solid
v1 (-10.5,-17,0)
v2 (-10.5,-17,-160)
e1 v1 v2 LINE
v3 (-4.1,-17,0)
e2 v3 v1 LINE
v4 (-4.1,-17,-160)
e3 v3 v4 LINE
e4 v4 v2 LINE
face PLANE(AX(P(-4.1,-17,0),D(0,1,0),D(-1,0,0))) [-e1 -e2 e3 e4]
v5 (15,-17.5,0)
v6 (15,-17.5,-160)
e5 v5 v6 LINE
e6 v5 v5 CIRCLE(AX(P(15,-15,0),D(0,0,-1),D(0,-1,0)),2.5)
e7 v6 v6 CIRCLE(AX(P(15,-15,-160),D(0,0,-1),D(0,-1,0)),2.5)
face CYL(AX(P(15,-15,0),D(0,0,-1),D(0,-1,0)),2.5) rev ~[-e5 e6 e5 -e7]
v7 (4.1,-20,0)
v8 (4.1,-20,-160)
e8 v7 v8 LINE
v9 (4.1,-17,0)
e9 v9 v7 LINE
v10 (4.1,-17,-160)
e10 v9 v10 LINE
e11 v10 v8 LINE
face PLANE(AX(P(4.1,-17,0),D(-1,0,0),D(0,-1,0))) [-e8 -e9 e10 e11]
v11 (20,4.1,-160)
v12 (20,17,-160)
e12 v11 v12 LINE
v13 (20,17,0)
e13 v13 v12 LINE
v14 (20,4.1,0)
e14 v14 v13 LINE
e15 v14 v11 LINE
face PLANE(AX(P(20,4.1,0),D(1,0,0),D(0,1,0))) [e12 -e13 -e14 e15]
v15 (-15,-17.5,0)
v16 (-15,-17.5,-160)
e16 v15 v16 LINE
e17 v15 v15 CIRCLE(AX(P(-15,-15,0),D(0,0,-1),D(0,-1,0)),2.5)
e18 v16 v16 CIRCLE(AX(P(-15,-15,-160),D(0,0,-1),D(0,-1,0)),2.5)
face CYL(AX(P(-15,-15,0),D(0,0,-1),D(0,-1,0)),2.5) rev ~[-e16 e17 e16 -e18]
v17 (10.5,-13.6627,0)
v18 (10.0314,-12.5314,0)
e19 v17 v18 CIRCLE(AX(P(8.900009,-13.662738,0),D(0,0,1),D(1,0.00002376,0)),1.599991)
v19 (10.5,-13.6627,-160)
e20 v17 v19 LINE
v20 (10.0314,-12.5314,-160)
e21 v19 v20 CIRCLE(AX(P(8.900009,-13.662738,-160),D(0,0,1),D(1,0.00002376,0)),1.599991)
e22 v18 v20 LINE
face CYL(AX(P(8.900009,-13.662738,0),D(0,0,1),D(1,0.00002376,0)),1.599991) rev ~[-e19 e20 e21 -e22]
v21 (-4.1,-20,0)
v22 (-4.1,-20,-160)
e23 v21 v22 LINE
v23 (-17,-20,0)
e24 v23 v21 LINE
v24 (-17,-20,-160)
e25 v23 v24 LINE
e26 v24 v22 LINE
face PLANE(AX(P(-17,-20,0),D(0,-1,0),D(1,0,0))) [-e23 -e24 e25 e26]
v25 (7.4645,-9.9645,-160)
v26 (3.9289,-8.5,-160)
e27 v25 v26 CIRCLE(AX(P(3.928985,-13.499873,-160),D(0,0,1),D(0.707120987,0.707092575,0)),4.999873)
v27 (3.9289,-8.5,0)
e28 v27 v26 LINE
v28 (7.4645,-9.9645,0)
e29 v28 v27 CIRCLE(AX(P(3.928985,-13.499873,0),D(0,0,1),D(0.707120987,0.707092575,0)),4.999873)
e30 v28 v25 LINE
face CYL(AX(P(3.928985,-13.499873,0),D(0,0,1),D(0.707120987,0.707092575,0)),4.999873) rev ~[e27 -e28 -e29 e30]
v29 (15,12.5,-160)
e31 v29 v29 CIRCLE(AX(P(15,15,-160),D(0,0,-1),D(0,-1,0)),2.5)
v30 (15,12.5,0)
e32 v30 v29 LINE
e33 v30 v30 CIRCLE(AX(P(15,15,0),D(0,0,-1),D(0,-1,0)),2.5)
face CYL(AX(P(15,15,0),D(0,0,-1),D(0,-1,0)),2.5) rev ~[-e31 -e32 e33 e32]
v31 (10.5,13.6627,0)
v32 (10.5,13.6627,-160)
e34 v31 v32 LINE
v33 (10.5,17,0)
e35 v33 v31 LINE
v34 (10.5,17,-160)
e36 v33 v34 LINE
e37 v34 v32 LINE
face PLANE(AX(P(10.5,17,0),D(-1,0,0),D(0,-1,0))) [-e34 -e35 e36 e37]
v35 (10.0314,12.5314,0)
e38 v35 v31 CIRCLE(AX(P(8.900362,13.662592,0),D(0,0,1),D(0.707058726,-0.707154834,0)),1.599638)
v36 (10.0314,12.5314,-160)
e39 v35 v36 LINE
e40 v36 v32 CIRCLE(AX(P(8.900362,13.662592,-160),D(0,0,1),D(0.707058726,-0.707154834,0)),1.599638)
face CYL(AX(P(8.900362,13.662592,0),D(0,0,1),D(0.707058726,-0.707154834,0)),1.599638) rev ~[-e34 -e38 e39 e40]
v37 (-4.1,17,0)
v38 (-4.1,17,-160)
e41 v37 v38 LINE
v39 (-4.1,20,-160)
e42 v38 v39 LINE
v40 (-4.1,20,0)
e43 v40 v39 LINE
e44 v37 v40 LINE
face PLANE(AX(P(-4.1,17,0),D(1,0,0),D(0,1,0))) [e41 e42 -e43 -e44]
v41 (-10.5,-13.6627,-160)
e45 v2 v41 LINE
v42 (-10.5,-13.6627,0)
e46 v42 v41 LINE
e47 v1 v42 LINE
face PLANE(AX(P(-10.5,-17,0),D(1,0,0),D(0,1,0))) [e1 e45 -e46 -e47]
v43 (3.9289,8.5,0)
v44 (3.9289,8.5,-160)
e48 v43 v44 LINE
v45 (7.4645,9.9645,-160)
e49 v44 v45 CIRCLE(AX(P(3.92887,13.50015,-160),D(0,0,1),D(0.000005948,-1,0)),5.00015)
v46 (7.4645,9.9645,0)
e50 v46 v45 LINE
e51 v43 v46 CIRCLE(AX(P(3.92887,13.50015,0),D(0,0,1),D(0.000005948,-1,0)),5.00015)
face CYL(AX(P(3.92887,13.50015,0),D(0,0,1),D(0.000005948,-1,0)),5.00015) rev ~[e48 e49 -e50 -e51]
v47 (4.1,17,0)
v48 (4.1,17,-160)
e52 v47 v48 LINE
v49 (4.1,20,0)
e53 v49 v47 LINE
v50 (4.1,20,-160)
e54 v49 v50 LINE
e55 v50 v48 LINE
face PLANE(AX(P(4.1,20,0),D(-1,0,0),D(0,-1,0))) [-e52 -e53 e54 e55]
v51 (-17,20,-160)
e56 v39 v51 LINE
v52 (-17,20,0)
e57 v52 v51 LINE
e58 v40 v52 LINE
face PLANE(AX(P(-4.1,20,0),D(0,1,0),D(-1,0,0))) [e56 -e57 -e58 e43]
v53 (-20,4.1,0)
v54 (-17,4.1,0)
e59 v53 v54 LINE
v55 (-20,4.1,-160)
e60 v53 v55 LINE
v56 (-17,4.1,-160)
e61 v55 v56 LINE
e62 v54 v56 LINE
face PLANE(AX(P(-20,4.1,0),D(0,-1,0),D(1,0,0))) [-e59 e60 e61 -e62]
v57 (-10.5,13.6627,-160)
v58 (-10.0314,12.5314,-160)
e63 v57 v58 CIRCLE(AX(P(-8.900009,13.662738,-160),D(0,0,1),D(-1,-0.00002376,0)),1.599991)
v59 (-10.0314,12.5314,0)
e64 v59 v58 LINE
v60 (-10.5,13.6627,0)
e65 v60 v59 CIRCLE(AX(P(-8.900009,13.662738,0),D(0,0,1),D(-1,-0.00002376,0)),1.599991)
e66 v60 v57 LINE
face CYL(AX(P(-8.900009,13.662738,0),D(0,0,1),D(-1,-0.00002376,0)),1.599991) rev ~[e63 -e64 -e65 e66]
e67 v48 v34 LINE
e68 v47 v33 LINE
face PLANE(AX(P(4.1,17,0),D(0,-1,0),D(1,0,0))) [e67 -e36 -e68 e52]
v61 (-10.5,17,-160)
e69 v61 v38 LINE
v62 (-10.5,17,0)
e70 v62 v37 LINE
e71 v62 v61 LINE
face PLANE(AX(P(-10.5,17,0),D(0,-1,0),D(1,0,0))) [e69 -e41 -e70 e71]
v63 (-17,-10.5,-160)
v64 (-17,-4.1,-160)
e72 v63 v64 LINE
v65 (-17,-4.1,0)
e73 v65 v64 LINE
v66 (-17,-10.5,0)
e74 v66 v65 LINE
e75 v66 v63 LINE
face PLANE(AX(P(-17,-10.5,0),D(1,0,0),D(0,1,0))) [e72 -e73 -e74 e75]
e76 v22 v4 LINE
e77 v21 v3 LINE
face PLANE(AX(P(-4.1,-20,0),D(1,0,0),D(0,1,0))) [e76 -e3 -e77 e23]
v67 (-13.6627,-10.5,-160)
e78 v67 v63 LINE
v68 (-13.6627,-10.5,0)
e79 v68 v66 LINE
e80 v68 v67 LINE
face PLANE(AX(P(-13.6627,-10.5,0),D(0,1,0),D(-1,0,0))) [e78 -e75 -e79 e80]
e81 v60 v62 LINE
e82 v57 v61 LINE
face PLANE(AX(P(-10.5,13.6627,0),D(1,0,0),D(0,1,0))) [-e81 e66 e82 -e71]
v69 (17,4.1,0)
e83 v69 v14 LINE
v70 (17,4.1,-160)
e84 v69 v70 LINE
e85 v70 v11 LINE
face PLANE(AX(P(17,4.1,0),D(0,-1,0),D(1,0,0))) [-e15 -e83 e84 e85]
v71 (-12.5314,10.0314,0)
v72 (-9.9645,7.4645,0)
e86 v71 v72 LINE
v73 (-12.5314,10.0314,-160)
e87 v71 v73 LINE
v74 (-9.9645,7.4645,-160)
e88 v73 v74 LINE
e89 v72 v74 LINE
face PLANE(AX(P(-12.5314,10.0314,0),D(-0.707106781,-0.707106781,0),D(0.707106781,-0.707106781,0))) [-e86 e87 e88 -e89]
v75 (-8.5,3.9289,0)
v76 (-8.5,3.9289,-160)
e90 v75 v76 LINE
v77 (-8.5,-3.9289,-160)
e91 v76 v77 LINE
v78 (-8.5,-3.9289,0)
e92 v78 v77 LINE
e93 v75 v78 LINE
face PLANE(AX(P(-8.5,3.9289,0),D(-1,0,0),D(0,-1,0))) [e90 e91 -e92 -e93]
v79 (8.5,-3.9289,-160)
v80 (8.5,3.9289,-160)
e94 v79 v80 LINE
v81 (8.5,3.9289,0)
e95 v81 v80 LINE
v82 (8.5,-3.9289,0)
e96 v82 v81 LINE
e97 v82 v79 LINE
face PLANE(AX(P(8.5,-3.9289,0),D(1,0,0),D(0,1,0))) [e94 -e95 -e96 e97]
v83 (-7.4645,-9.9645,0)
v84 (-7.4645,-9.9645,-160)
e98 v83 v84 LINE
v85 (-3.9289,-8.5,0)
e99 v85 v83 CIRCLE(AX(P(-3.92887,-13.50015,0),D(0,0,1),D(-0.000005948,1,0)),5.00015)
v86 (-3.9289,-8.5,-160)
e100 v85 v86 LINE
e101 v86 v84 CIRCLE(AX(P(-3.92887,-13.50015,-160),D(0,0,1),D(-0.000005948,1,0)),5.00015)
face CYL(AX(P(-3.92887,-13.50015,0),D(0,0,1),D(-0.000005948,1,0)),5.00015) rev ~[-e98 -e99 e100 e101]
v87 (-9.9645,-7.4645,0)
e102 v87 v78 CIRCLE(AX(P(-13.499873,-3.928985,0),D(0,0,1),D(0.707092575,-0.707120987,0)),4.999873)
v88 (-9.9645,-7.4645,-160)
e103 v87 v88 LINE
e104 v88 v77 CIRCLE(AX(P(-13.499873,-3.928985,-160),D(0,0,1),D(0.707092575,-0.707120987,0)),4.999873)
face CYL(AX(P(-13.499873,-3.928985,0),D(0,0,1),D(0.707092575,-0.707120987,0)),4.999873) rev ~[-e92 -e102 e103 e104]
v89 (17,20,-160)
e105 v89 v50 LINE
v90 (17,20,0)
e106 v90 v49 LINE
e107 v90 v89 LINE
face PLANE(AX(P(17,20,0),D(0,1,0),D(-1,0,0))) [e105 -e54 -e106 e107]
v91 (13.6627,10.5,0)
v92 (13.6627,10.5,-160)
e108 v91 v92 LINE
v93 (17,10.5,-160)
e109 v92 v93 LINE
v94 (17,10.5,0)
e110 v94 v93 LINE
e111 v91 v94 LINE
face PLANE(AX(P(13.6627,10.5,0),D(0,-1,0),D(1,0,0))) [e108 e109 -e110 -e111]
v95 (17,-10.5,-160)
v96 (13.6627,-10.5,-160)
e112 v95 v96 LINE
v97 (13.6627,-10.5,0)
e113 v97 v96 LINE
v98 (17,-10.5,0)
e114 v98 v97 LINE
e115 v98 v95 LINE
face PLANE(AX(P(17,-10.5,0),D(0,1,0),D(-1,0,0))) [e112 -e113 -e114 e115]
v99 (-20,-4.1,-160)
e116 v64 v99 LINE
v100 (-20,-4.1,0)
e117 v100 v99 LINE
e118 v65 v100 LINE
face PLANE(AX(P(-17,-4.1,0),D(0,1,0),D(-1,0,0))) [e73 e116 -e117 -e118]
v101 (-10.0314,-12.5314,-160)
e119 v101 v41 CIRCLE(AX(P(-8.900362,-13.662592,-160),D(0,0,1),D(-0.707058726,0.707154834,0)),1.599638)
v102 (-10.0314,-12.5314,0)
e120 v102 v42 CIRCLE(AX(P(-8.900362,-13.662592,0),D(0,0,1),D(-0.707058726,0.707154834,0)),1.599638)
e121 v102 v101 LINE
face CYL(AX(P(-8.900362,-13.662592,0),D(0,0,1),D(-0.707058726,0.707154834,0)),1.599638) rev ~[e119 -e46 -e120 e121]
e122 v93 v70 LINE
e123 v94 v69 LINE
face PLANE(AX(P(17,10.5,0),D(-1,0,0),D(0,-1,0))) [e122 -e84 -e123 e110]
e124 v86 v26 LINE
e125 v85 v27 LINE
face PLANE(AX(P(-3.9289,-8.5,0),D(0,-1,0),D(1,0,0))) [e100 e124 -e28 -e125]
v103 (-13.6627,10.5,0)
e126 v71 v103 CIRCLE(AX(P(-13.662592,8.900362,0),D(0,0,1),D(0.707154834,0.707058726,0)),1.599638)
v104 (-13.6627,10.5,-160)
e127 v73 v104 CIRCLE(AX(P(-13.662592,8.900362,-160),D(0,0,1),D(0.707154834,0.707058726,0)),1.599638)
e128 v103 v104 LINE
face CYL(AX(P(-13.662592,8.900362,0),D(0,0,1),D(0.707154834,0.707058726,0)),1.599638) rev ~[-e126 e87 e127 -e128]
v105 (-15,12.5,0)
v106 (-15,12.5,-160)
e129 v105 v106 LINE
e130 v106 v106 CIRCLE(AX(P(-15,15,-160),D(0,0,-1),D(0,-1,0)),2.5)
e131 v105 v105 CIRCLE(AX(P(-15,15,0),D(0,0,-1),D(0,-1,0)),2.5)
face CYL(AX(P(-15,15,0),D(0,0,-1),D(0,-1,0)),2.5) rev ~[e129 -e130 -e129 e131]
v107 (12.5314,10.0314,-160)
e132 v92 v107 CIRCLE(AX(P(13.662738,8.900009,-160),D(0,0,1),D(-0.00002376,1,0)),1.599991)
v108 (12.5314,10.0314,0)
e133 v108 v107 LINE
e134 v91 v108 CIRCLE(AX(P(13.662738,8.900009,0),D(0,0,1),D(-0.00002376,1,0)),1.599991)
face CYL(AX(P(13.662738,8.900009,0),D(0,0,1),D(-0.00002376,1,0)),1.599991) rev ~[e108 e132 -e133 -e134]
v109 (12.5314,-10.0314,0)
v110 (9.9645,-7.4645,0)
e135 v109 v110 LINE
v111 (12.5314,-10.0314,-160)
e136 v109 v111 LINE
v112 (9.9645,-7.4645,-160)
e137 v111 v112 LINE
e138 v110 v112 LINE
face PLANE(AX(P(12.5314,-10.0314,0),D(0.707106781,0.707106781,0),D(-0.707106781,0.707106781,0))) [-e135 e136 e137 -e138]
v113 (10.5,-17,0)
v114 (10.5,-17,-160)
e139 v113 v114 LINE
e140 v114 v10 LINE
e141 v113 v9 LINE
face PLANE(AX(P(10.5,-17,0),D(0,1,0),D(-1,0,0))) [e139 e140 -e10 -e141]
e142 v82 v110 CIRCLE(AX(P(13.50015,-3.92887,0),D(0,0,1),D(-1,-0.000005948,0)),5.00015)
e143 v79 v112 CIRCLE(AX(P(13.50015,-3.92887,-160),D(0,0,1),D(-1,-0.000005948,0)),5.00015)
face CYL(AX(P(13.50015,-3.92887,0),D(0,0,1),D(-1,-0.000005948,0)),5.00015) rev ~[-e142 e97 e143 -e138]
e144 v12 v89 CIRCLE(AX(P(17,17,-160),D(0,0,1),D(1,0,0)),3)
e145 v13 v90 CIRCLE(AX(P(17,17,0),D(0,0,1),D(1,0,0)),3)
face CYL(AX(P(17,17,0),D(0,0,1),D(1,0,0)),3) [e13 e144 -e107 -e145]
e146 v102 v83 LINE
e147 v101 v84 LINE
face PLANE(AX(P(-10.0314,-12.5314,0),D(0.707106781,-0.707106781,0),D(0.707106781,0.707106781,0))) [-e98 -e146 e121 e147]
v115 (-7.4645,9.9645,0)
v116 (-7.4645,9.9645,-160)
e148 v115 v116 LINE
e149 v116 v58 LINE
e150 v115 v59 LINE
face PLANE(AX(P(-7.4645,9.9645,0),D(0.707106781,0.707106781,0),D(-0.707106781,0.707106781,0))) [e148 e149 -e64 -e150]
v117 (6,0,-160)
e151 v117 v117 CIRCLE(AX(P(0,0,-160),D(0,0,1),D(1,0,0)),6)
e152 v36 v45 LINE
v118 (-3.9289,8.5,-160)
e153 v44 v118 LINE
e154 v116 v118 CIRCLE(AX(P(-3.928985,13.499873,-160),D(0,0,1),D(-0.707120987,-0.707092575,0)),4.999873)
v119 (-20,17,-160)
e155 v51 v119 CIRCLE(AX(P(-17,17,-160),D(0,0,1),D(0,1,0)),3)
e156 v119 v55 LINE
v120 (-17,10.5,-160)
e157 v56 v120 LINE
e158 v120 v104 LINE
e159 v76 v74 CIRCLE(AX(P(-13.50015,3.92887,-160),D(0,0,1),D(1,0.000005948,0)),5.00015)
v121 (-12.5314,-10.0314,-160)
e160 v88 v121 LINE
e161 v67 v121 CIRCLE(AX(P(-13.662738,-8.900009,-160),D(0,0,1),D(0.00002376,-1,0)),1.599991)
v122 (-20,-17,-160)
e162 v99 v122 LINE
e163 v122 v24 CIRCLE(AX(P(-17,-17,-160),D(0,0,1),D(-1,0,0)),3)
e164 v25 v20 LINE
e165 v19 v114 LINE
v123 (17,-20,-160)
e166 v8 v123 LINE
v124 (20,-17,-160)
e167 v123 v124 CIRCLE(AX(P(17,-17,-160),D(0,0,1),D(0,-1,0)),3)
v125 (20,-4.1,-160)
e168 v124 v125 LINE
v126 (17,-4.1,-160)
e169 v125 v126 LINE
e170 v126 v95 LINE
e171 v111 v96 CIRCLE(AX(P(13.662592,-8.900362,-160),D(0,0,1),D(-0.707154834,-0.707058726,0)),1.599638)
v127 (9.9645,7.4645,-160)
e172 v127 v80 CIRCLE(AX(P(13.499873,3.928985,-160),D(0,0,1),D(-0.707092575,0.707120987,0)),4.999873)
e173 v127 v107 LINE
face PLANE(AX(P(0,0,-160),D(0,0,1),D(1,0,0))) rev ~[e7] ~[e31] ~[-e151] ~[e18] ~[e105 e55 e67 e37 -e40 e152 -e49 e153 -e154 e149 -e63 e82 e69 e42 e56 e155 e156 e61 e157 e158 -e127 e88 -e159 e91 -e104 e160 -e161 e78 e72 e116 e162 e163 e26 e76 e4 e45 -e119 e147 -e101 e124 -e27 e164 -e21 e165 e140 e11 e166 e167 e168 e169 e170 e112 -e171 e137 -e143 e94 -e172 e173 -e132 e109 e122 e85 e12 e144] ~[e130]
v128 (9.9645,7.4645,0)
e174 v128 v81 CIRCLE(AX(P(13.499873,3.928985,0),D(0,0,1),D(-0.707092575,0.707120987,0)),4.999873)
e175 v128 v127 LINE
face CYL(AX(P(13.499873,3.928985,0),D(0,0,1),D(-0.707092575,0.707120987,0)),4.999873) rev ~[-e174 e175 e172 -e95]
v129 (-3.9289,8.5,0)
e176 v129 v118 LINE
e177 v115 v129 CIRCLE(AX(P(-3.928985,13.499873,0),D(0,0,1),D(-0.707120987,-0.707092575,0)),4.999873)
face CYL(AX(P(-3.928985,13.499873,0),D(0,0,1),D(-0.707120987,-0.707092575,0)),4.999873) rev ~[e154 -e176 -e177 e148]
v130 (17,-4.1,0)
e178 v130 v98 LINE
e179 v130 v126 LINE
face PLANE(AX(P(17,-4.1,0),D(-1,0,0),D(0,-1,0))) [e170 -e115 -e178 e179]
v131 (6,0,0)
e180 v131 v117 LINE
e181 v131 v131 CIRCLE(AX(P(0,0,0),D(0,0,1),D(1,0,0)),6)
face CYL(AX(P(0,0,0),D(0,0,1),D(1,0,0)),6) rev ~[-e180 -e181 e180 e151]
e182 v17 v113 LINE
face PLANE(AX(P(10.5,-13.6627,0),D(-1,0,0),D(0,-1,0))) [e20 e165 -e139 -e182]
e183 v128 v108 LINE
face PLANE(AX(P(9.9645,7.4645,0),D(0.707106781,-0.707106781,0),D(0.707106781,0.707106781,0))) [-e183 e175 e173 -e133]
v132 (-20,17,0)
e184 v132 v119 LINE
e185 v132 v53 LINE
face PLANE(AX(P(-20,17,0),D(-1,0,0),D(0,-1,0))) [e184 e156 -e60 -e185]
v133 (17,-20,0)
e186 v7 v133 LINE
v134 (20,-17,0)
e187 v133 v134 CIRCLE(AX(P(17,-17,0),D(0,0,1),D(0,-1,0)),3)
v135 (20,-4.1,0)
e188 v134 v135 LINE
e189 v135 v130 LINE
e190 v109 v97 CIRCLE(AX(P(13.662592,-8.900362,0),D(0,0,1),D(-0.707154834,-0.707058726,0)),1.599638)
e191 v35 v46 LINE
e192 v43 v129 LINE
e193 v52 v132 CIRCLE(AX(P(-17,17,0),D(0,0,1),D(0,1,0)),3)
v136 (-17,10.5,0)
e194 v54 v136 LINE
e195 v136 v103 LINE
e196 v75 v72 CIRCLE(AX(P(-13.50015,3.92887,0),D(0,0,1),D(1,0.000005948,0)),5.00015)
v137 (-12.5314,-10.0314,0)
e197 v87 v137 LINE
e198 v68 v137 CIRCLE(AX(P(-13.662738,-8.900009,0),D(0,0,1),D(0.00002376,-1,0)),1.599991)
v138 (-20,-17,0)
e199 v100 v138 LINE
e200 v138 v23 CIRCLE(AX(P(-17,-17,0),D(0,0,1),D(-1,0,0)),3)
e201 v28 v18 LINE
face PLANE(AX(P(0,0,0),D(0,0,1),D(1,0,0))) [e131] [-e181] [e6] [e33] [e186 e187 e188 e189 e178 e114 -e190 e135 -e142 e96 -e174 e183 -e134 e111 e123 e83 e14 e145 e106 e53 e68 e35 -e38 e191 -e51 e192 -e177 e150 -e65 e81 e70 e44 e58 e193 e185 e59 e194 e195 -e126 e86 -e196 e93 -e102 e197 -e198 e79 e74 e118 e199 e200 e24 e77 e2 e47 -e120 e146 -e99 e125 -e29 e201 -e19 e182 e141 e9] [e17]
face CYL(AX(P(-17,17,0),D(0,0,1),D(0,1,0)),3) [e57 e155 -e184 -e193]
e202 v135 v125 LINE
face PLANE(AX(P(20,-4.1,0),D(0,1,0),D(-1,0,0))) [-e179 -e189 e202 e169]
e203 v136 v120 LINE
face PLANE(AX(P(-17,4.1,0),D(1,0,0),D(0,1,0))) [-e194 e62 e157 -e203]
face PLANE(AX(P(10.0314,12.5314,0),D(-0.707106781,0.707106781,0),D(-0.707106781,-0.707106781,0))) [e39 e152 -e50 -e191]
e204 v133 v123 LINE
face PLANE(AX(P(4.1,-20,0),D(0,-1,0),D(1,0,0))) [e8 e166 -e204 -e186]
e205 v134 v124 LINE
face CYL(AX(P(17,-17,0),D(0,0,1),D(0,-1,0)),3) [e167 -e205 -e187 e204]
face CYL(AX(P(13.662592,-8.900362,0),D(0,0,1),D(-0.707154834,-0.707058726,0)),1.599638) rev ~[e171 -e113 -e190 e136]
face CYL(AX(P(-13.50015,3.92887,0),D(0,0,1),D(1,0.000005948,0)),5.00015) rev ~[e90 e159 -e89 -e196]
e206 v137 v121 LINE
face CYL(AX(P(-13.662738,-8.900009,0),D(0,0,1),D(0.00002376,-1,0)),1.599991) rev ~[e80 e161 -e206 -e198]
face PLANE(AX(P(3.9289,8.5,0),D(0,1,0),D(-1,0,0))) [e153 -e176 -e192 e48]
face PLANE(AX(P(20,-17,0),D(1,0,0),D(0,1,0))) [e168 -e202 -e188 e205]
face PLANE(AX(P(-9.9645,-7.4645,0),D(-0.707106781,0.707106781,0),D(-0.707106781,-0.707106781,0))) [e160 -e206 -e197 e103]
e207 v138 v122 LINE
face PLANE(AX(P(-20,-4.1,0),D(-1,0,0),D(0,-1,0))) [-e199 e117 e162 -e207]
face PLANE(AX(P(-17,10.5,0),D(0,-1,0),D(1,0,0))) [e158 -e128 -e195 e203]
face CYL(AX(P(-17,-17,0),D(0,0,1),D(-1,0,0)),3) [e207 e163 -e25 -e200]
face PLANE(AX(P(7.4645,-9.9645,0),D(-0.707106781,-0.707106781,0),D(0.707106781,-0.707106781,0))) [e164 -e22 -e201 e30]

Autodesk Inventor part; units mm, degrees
sketch "Skizze_1" plane through (0, 0, 0) normal (0, 0, 1) x (1, 0, 0)
  arc A0 (-20, -17) -> (-17, -20) centre (-17, -17) ccw
  line L0 (-17, -20) -> (-4.1, -20)
  line L1 (-4.1, -20) -> (-4.1, -17)
  line L2 (-4.1, -17) -> (-10.5, -17)
  line L3 (-10.5, -17) -> (-10.5, -13.6627)
  arc A1 (-10.0314, -12.5314) -> (-10.5, -13.6627) centre (-8.9002, -13.6627) ccw
  line L4 (-10.0314, -12.5314) -> (-7.4645, -9.9645)
  arc A2 (-3.9289, -8.5) -> (-7.4645, -9.9645) centre (-3.9289, -13.5) ccw
  line L5 (-3.9289, -8.5) -> (3.9289, -8.5)
  arc A3 (7.4645, -9.9645) -> (3.9289, -8.5) centre (3.9289, -13.5) ccw
  line L6 (7.4645, -9.9645) -> (10.0314, -12.5314)
  arc A4 (10.5, -13.6627) -> (10.0314, -12.5314) centre (8.9002, -13.6627) ccw
  line L7 (10.5, -13.6627) -> (10.5, -17)
  line L8 (10.5, -17) -> (4.1, -17)
  line L9 (4.1, -17) -> (4.1, -20)
  line L10 (4.1, -20) -> (17, -20)
  arc A5 (17, -20) -> (20, -17) centre (17, -17) ccw
  line L11 (20, -17) -> (20, -4.1)
  line L12 (20, -4.1) -> (17, -4.1)
  line L13 (17, -4.1) -> (17, -10.5)
  line L14 (17, -10.5) -> (13.6627, -10.5)
  arc A6 (12.5314, -10.0314) -> (13.6627, -10.5) centre (13.6627, -8.9002) ccw
  line L15 (12.5314, -10.0314) -> (9.9645, -7.4645)
  arc A7 (8.5, -3.9289) -> (9.9645, -7.4645) centre (13.5, -3.9289) ccw
  line L16 (8.5, -3.9289) -> (8.5, 3.9289)
  arc A8 (9.9645, 7.4645) -> (8.5, 3.9289) centre (13.5, 3.9289) ccw
  line L17 (9.9645, 7.4645) -> (12.5314, 10.0314)
  arc A9 (13.6627, 10.5) -> (12.5314, 10.0314) centre (13.6627, 8.9002) ccw
  line L18 (13.6627, 10.5) -> (17, 10.5)
  line L19 (17, 10.5) -> (17, 4.1)
  line L20 (17, 4.1) -> (20, 4.1)
  line L21 (20, 4.1) -> (20, 17)
  arc A10 (20, 17) -> (17, 20) centre (17, 17) ccw
  line L22 (17, 20) -> (4.1, 20)
  line L23 (4.1, 20) -> (4.1, 17)
  line L24 (4.1, 17) -> (10.5, 17)
  line L25 (10.5, 17) -> (10.5, 13.6627)
  arc A11 (10.0314, 12.5314) -> (10.5, 13.6627) centre (8.9002, 13.6627) ccw
  line L26 (10.0314, 12.5314) -> (7.4645, 9.9645)
  arc A12 (3.9289, 8.5) -> (7.4645, 9.9645) centre (3.9289, 13.5) ccw
  line L27 (3.9289, 8.5) -> (-3.9289, 8.5)
  arc A13 (-7.4645, 9.9645) -> (-3.9289, 8.5) centre (-3.9289, 13.5) ccw
  line L28 (-7.4645, 9.9645) -> (-10.0314, 12.5314)
  arc A14 (-10.5, 13.6627) -> (-10.0314, 12.5314) centre (-8.9002, 13.6627) ccw
  line L29 (-10.5, 13.6627) -> (-10.5, 17)
  line L30 (-10.5, 17) -> (-4.1, 17)
  line L31 (-4.1, 17) -> (-4.1, 20)
  line L32 (-4.1, 20) -> (-17, 20)
  arc A15 (-17, 20) -> (-20, 17) centre (-17, 17) ccw
  line L33 (-20, 17) -> (-20, 4.1)
  line L34 (-20, 4.1) -> (-17, 4.1)
  line L35 (-17, 4.1) -> (-17, 10.5)
  line L36 (-17, 10.5) -> (-13.6627, 10.5)
  arc A16 (-12.5314, 10.0314) -> (-13.6627, 10.5) centre (-13.6627, 8.9002) ccw
  line L37 (-12.5314, 10.0314) -> (-9.9645, 7.4645)
  arc A17 (-8.5, 3.9289) -> (-9.9645, 7.4645) centre (-13.5, 3.9289) ccw
  line L38 (-8.5, 3.9289) -> (-8.5, -3.9289)
  arc A18 (-9.9645, -7.4645) -> (-8.5, -3.9289) centre (-13.5, -3.9289) ccw
  line L39 (-9.9645, -7.4645) -> (-12.5314, -10.0314)
  arc A19 (-13.6627, -10.5) -> (-12.5314, -10.0314) centre (-13.6627, -8.9002) ccw
  line L40 (-13.6627, -10.5) -> (-17, -10.5)
  line L41 (-17, -10.5) -> (-17, -4.1)
  line L42 (-17, -4.1) -> (-20, -4.1)
  line L43 (-20, -4.1) -> (-20, -17)
  circle A20 centre (0, 0) radius 6
extrude "Extrusion1" add sketch "Skizze_1" against normal blind 160
sketch "Sketch2" plane through (0, 0, 0) normal (0, 0, 1) x (1, 0, 0)
  point P0 (-15, -15)
hole "Drilling 1" at (-15, -15, 0) direction (0, 0, -1) diameter 5 depth 6000
sketch "Sketch3" plane through (0, 0, 0) normal (0, 0, 1) x (1, 0, 0)
  point P0 (15, -15)
hole "Drilling 2" at (15, -15, 0) direction (0, 0, -1) diameter 5 depth 6000
sketch "Sketch4" plane through (0, 0, 0) normal (0, 0, 1) x (1, 0, 0)
  point P0 (15, 15)
hole "Drilling 3" at (15, 15, 0) direction (0, 0, -1) diameter 5 depth 6000
sketch "Sketch5" plane through (0, 0, 0) normal (0, 0, 1) x (1, 0, 0)
  point P0 (-15, 15)
hole "Drilling 4" at (-15, 15, 0) direction (0, 0, -1) diameter 5 depth 6000
ref_plane "side_4d_XY" through (-20, 0, -165) normal (-1, 0, 0) x (0, 1, 0)
ref_plane "side_4d_YZ" through (-20, 0, -165) normal (0, 1, 0) x (0, 0, -1)
ref_plane "side_4d_ZX" through (-20, 0, -165) normal (0, 0, -1) x (-1, 0, 0)
ref_plane "side_1a_XY" through (0, 20, -165) normal (0, 1, 0) x (1, 0, 0)
ref_plane "side_1a_YZ" through (0, 20, -165) normal (1, 0, 0) x (0, 0, -1)
ref_plane "side_1a_ZX" through (0, 20, -165) normal (0, 0, -1) x (0, 1, 0)
ref_plane "side_2b_XY" through (20, 0, -165) normal (1, 0, 0) x (0, -1, 0)
ref_plane "side_2b_YZ" through (20, 0, -165) normal (0, -1, 0) x (0, 0, -1)
ref_plane "side_2b_ZX" through (20, 0, -165) normal (0, 0, -1) x (1, 0, 0)
ref_plane "side_3c_XY" through (0, -20, -165) normal (0, -1, 0) x (-1, 0, 0)
ref_plane "side_3c_YZ" through (0, -20, -165) normal (-1, 0, 0) x (0, 0, -1)
ref_plane "side_3c_ZX" through (0, -20, -165) normal (0, 0, -1) x (0, -1, 0)
ref_plane "end_XY" through (0, 0, -330) normal (0, 0, -1) x (1, 0, 0)
ref_plane "end_YZ" through (0, 0, -330) normal (1, 0, 0) x (0, -1, 0)
ref_plane "end_ZX" through (0, 0, -330) normal (0, -1, 0) x (0, 0, -1)
ref_plane "start_XY" through (0, 0, 0) normal (0, 0, 1) x (1, 0, 0)
ref_plane "start_YZ" through (0, 0, 0) normal (1, 0, 0) x (0, 1, 0)
ref_plane "start_ZX" through (0, 0, 0) normal (0, 1, 0) x (0, 0, 1)
properties part number "MayTec 1_11_040040_43S_Profile 40x40, 4E, S_160_Detail_(0;0,0,0)"
